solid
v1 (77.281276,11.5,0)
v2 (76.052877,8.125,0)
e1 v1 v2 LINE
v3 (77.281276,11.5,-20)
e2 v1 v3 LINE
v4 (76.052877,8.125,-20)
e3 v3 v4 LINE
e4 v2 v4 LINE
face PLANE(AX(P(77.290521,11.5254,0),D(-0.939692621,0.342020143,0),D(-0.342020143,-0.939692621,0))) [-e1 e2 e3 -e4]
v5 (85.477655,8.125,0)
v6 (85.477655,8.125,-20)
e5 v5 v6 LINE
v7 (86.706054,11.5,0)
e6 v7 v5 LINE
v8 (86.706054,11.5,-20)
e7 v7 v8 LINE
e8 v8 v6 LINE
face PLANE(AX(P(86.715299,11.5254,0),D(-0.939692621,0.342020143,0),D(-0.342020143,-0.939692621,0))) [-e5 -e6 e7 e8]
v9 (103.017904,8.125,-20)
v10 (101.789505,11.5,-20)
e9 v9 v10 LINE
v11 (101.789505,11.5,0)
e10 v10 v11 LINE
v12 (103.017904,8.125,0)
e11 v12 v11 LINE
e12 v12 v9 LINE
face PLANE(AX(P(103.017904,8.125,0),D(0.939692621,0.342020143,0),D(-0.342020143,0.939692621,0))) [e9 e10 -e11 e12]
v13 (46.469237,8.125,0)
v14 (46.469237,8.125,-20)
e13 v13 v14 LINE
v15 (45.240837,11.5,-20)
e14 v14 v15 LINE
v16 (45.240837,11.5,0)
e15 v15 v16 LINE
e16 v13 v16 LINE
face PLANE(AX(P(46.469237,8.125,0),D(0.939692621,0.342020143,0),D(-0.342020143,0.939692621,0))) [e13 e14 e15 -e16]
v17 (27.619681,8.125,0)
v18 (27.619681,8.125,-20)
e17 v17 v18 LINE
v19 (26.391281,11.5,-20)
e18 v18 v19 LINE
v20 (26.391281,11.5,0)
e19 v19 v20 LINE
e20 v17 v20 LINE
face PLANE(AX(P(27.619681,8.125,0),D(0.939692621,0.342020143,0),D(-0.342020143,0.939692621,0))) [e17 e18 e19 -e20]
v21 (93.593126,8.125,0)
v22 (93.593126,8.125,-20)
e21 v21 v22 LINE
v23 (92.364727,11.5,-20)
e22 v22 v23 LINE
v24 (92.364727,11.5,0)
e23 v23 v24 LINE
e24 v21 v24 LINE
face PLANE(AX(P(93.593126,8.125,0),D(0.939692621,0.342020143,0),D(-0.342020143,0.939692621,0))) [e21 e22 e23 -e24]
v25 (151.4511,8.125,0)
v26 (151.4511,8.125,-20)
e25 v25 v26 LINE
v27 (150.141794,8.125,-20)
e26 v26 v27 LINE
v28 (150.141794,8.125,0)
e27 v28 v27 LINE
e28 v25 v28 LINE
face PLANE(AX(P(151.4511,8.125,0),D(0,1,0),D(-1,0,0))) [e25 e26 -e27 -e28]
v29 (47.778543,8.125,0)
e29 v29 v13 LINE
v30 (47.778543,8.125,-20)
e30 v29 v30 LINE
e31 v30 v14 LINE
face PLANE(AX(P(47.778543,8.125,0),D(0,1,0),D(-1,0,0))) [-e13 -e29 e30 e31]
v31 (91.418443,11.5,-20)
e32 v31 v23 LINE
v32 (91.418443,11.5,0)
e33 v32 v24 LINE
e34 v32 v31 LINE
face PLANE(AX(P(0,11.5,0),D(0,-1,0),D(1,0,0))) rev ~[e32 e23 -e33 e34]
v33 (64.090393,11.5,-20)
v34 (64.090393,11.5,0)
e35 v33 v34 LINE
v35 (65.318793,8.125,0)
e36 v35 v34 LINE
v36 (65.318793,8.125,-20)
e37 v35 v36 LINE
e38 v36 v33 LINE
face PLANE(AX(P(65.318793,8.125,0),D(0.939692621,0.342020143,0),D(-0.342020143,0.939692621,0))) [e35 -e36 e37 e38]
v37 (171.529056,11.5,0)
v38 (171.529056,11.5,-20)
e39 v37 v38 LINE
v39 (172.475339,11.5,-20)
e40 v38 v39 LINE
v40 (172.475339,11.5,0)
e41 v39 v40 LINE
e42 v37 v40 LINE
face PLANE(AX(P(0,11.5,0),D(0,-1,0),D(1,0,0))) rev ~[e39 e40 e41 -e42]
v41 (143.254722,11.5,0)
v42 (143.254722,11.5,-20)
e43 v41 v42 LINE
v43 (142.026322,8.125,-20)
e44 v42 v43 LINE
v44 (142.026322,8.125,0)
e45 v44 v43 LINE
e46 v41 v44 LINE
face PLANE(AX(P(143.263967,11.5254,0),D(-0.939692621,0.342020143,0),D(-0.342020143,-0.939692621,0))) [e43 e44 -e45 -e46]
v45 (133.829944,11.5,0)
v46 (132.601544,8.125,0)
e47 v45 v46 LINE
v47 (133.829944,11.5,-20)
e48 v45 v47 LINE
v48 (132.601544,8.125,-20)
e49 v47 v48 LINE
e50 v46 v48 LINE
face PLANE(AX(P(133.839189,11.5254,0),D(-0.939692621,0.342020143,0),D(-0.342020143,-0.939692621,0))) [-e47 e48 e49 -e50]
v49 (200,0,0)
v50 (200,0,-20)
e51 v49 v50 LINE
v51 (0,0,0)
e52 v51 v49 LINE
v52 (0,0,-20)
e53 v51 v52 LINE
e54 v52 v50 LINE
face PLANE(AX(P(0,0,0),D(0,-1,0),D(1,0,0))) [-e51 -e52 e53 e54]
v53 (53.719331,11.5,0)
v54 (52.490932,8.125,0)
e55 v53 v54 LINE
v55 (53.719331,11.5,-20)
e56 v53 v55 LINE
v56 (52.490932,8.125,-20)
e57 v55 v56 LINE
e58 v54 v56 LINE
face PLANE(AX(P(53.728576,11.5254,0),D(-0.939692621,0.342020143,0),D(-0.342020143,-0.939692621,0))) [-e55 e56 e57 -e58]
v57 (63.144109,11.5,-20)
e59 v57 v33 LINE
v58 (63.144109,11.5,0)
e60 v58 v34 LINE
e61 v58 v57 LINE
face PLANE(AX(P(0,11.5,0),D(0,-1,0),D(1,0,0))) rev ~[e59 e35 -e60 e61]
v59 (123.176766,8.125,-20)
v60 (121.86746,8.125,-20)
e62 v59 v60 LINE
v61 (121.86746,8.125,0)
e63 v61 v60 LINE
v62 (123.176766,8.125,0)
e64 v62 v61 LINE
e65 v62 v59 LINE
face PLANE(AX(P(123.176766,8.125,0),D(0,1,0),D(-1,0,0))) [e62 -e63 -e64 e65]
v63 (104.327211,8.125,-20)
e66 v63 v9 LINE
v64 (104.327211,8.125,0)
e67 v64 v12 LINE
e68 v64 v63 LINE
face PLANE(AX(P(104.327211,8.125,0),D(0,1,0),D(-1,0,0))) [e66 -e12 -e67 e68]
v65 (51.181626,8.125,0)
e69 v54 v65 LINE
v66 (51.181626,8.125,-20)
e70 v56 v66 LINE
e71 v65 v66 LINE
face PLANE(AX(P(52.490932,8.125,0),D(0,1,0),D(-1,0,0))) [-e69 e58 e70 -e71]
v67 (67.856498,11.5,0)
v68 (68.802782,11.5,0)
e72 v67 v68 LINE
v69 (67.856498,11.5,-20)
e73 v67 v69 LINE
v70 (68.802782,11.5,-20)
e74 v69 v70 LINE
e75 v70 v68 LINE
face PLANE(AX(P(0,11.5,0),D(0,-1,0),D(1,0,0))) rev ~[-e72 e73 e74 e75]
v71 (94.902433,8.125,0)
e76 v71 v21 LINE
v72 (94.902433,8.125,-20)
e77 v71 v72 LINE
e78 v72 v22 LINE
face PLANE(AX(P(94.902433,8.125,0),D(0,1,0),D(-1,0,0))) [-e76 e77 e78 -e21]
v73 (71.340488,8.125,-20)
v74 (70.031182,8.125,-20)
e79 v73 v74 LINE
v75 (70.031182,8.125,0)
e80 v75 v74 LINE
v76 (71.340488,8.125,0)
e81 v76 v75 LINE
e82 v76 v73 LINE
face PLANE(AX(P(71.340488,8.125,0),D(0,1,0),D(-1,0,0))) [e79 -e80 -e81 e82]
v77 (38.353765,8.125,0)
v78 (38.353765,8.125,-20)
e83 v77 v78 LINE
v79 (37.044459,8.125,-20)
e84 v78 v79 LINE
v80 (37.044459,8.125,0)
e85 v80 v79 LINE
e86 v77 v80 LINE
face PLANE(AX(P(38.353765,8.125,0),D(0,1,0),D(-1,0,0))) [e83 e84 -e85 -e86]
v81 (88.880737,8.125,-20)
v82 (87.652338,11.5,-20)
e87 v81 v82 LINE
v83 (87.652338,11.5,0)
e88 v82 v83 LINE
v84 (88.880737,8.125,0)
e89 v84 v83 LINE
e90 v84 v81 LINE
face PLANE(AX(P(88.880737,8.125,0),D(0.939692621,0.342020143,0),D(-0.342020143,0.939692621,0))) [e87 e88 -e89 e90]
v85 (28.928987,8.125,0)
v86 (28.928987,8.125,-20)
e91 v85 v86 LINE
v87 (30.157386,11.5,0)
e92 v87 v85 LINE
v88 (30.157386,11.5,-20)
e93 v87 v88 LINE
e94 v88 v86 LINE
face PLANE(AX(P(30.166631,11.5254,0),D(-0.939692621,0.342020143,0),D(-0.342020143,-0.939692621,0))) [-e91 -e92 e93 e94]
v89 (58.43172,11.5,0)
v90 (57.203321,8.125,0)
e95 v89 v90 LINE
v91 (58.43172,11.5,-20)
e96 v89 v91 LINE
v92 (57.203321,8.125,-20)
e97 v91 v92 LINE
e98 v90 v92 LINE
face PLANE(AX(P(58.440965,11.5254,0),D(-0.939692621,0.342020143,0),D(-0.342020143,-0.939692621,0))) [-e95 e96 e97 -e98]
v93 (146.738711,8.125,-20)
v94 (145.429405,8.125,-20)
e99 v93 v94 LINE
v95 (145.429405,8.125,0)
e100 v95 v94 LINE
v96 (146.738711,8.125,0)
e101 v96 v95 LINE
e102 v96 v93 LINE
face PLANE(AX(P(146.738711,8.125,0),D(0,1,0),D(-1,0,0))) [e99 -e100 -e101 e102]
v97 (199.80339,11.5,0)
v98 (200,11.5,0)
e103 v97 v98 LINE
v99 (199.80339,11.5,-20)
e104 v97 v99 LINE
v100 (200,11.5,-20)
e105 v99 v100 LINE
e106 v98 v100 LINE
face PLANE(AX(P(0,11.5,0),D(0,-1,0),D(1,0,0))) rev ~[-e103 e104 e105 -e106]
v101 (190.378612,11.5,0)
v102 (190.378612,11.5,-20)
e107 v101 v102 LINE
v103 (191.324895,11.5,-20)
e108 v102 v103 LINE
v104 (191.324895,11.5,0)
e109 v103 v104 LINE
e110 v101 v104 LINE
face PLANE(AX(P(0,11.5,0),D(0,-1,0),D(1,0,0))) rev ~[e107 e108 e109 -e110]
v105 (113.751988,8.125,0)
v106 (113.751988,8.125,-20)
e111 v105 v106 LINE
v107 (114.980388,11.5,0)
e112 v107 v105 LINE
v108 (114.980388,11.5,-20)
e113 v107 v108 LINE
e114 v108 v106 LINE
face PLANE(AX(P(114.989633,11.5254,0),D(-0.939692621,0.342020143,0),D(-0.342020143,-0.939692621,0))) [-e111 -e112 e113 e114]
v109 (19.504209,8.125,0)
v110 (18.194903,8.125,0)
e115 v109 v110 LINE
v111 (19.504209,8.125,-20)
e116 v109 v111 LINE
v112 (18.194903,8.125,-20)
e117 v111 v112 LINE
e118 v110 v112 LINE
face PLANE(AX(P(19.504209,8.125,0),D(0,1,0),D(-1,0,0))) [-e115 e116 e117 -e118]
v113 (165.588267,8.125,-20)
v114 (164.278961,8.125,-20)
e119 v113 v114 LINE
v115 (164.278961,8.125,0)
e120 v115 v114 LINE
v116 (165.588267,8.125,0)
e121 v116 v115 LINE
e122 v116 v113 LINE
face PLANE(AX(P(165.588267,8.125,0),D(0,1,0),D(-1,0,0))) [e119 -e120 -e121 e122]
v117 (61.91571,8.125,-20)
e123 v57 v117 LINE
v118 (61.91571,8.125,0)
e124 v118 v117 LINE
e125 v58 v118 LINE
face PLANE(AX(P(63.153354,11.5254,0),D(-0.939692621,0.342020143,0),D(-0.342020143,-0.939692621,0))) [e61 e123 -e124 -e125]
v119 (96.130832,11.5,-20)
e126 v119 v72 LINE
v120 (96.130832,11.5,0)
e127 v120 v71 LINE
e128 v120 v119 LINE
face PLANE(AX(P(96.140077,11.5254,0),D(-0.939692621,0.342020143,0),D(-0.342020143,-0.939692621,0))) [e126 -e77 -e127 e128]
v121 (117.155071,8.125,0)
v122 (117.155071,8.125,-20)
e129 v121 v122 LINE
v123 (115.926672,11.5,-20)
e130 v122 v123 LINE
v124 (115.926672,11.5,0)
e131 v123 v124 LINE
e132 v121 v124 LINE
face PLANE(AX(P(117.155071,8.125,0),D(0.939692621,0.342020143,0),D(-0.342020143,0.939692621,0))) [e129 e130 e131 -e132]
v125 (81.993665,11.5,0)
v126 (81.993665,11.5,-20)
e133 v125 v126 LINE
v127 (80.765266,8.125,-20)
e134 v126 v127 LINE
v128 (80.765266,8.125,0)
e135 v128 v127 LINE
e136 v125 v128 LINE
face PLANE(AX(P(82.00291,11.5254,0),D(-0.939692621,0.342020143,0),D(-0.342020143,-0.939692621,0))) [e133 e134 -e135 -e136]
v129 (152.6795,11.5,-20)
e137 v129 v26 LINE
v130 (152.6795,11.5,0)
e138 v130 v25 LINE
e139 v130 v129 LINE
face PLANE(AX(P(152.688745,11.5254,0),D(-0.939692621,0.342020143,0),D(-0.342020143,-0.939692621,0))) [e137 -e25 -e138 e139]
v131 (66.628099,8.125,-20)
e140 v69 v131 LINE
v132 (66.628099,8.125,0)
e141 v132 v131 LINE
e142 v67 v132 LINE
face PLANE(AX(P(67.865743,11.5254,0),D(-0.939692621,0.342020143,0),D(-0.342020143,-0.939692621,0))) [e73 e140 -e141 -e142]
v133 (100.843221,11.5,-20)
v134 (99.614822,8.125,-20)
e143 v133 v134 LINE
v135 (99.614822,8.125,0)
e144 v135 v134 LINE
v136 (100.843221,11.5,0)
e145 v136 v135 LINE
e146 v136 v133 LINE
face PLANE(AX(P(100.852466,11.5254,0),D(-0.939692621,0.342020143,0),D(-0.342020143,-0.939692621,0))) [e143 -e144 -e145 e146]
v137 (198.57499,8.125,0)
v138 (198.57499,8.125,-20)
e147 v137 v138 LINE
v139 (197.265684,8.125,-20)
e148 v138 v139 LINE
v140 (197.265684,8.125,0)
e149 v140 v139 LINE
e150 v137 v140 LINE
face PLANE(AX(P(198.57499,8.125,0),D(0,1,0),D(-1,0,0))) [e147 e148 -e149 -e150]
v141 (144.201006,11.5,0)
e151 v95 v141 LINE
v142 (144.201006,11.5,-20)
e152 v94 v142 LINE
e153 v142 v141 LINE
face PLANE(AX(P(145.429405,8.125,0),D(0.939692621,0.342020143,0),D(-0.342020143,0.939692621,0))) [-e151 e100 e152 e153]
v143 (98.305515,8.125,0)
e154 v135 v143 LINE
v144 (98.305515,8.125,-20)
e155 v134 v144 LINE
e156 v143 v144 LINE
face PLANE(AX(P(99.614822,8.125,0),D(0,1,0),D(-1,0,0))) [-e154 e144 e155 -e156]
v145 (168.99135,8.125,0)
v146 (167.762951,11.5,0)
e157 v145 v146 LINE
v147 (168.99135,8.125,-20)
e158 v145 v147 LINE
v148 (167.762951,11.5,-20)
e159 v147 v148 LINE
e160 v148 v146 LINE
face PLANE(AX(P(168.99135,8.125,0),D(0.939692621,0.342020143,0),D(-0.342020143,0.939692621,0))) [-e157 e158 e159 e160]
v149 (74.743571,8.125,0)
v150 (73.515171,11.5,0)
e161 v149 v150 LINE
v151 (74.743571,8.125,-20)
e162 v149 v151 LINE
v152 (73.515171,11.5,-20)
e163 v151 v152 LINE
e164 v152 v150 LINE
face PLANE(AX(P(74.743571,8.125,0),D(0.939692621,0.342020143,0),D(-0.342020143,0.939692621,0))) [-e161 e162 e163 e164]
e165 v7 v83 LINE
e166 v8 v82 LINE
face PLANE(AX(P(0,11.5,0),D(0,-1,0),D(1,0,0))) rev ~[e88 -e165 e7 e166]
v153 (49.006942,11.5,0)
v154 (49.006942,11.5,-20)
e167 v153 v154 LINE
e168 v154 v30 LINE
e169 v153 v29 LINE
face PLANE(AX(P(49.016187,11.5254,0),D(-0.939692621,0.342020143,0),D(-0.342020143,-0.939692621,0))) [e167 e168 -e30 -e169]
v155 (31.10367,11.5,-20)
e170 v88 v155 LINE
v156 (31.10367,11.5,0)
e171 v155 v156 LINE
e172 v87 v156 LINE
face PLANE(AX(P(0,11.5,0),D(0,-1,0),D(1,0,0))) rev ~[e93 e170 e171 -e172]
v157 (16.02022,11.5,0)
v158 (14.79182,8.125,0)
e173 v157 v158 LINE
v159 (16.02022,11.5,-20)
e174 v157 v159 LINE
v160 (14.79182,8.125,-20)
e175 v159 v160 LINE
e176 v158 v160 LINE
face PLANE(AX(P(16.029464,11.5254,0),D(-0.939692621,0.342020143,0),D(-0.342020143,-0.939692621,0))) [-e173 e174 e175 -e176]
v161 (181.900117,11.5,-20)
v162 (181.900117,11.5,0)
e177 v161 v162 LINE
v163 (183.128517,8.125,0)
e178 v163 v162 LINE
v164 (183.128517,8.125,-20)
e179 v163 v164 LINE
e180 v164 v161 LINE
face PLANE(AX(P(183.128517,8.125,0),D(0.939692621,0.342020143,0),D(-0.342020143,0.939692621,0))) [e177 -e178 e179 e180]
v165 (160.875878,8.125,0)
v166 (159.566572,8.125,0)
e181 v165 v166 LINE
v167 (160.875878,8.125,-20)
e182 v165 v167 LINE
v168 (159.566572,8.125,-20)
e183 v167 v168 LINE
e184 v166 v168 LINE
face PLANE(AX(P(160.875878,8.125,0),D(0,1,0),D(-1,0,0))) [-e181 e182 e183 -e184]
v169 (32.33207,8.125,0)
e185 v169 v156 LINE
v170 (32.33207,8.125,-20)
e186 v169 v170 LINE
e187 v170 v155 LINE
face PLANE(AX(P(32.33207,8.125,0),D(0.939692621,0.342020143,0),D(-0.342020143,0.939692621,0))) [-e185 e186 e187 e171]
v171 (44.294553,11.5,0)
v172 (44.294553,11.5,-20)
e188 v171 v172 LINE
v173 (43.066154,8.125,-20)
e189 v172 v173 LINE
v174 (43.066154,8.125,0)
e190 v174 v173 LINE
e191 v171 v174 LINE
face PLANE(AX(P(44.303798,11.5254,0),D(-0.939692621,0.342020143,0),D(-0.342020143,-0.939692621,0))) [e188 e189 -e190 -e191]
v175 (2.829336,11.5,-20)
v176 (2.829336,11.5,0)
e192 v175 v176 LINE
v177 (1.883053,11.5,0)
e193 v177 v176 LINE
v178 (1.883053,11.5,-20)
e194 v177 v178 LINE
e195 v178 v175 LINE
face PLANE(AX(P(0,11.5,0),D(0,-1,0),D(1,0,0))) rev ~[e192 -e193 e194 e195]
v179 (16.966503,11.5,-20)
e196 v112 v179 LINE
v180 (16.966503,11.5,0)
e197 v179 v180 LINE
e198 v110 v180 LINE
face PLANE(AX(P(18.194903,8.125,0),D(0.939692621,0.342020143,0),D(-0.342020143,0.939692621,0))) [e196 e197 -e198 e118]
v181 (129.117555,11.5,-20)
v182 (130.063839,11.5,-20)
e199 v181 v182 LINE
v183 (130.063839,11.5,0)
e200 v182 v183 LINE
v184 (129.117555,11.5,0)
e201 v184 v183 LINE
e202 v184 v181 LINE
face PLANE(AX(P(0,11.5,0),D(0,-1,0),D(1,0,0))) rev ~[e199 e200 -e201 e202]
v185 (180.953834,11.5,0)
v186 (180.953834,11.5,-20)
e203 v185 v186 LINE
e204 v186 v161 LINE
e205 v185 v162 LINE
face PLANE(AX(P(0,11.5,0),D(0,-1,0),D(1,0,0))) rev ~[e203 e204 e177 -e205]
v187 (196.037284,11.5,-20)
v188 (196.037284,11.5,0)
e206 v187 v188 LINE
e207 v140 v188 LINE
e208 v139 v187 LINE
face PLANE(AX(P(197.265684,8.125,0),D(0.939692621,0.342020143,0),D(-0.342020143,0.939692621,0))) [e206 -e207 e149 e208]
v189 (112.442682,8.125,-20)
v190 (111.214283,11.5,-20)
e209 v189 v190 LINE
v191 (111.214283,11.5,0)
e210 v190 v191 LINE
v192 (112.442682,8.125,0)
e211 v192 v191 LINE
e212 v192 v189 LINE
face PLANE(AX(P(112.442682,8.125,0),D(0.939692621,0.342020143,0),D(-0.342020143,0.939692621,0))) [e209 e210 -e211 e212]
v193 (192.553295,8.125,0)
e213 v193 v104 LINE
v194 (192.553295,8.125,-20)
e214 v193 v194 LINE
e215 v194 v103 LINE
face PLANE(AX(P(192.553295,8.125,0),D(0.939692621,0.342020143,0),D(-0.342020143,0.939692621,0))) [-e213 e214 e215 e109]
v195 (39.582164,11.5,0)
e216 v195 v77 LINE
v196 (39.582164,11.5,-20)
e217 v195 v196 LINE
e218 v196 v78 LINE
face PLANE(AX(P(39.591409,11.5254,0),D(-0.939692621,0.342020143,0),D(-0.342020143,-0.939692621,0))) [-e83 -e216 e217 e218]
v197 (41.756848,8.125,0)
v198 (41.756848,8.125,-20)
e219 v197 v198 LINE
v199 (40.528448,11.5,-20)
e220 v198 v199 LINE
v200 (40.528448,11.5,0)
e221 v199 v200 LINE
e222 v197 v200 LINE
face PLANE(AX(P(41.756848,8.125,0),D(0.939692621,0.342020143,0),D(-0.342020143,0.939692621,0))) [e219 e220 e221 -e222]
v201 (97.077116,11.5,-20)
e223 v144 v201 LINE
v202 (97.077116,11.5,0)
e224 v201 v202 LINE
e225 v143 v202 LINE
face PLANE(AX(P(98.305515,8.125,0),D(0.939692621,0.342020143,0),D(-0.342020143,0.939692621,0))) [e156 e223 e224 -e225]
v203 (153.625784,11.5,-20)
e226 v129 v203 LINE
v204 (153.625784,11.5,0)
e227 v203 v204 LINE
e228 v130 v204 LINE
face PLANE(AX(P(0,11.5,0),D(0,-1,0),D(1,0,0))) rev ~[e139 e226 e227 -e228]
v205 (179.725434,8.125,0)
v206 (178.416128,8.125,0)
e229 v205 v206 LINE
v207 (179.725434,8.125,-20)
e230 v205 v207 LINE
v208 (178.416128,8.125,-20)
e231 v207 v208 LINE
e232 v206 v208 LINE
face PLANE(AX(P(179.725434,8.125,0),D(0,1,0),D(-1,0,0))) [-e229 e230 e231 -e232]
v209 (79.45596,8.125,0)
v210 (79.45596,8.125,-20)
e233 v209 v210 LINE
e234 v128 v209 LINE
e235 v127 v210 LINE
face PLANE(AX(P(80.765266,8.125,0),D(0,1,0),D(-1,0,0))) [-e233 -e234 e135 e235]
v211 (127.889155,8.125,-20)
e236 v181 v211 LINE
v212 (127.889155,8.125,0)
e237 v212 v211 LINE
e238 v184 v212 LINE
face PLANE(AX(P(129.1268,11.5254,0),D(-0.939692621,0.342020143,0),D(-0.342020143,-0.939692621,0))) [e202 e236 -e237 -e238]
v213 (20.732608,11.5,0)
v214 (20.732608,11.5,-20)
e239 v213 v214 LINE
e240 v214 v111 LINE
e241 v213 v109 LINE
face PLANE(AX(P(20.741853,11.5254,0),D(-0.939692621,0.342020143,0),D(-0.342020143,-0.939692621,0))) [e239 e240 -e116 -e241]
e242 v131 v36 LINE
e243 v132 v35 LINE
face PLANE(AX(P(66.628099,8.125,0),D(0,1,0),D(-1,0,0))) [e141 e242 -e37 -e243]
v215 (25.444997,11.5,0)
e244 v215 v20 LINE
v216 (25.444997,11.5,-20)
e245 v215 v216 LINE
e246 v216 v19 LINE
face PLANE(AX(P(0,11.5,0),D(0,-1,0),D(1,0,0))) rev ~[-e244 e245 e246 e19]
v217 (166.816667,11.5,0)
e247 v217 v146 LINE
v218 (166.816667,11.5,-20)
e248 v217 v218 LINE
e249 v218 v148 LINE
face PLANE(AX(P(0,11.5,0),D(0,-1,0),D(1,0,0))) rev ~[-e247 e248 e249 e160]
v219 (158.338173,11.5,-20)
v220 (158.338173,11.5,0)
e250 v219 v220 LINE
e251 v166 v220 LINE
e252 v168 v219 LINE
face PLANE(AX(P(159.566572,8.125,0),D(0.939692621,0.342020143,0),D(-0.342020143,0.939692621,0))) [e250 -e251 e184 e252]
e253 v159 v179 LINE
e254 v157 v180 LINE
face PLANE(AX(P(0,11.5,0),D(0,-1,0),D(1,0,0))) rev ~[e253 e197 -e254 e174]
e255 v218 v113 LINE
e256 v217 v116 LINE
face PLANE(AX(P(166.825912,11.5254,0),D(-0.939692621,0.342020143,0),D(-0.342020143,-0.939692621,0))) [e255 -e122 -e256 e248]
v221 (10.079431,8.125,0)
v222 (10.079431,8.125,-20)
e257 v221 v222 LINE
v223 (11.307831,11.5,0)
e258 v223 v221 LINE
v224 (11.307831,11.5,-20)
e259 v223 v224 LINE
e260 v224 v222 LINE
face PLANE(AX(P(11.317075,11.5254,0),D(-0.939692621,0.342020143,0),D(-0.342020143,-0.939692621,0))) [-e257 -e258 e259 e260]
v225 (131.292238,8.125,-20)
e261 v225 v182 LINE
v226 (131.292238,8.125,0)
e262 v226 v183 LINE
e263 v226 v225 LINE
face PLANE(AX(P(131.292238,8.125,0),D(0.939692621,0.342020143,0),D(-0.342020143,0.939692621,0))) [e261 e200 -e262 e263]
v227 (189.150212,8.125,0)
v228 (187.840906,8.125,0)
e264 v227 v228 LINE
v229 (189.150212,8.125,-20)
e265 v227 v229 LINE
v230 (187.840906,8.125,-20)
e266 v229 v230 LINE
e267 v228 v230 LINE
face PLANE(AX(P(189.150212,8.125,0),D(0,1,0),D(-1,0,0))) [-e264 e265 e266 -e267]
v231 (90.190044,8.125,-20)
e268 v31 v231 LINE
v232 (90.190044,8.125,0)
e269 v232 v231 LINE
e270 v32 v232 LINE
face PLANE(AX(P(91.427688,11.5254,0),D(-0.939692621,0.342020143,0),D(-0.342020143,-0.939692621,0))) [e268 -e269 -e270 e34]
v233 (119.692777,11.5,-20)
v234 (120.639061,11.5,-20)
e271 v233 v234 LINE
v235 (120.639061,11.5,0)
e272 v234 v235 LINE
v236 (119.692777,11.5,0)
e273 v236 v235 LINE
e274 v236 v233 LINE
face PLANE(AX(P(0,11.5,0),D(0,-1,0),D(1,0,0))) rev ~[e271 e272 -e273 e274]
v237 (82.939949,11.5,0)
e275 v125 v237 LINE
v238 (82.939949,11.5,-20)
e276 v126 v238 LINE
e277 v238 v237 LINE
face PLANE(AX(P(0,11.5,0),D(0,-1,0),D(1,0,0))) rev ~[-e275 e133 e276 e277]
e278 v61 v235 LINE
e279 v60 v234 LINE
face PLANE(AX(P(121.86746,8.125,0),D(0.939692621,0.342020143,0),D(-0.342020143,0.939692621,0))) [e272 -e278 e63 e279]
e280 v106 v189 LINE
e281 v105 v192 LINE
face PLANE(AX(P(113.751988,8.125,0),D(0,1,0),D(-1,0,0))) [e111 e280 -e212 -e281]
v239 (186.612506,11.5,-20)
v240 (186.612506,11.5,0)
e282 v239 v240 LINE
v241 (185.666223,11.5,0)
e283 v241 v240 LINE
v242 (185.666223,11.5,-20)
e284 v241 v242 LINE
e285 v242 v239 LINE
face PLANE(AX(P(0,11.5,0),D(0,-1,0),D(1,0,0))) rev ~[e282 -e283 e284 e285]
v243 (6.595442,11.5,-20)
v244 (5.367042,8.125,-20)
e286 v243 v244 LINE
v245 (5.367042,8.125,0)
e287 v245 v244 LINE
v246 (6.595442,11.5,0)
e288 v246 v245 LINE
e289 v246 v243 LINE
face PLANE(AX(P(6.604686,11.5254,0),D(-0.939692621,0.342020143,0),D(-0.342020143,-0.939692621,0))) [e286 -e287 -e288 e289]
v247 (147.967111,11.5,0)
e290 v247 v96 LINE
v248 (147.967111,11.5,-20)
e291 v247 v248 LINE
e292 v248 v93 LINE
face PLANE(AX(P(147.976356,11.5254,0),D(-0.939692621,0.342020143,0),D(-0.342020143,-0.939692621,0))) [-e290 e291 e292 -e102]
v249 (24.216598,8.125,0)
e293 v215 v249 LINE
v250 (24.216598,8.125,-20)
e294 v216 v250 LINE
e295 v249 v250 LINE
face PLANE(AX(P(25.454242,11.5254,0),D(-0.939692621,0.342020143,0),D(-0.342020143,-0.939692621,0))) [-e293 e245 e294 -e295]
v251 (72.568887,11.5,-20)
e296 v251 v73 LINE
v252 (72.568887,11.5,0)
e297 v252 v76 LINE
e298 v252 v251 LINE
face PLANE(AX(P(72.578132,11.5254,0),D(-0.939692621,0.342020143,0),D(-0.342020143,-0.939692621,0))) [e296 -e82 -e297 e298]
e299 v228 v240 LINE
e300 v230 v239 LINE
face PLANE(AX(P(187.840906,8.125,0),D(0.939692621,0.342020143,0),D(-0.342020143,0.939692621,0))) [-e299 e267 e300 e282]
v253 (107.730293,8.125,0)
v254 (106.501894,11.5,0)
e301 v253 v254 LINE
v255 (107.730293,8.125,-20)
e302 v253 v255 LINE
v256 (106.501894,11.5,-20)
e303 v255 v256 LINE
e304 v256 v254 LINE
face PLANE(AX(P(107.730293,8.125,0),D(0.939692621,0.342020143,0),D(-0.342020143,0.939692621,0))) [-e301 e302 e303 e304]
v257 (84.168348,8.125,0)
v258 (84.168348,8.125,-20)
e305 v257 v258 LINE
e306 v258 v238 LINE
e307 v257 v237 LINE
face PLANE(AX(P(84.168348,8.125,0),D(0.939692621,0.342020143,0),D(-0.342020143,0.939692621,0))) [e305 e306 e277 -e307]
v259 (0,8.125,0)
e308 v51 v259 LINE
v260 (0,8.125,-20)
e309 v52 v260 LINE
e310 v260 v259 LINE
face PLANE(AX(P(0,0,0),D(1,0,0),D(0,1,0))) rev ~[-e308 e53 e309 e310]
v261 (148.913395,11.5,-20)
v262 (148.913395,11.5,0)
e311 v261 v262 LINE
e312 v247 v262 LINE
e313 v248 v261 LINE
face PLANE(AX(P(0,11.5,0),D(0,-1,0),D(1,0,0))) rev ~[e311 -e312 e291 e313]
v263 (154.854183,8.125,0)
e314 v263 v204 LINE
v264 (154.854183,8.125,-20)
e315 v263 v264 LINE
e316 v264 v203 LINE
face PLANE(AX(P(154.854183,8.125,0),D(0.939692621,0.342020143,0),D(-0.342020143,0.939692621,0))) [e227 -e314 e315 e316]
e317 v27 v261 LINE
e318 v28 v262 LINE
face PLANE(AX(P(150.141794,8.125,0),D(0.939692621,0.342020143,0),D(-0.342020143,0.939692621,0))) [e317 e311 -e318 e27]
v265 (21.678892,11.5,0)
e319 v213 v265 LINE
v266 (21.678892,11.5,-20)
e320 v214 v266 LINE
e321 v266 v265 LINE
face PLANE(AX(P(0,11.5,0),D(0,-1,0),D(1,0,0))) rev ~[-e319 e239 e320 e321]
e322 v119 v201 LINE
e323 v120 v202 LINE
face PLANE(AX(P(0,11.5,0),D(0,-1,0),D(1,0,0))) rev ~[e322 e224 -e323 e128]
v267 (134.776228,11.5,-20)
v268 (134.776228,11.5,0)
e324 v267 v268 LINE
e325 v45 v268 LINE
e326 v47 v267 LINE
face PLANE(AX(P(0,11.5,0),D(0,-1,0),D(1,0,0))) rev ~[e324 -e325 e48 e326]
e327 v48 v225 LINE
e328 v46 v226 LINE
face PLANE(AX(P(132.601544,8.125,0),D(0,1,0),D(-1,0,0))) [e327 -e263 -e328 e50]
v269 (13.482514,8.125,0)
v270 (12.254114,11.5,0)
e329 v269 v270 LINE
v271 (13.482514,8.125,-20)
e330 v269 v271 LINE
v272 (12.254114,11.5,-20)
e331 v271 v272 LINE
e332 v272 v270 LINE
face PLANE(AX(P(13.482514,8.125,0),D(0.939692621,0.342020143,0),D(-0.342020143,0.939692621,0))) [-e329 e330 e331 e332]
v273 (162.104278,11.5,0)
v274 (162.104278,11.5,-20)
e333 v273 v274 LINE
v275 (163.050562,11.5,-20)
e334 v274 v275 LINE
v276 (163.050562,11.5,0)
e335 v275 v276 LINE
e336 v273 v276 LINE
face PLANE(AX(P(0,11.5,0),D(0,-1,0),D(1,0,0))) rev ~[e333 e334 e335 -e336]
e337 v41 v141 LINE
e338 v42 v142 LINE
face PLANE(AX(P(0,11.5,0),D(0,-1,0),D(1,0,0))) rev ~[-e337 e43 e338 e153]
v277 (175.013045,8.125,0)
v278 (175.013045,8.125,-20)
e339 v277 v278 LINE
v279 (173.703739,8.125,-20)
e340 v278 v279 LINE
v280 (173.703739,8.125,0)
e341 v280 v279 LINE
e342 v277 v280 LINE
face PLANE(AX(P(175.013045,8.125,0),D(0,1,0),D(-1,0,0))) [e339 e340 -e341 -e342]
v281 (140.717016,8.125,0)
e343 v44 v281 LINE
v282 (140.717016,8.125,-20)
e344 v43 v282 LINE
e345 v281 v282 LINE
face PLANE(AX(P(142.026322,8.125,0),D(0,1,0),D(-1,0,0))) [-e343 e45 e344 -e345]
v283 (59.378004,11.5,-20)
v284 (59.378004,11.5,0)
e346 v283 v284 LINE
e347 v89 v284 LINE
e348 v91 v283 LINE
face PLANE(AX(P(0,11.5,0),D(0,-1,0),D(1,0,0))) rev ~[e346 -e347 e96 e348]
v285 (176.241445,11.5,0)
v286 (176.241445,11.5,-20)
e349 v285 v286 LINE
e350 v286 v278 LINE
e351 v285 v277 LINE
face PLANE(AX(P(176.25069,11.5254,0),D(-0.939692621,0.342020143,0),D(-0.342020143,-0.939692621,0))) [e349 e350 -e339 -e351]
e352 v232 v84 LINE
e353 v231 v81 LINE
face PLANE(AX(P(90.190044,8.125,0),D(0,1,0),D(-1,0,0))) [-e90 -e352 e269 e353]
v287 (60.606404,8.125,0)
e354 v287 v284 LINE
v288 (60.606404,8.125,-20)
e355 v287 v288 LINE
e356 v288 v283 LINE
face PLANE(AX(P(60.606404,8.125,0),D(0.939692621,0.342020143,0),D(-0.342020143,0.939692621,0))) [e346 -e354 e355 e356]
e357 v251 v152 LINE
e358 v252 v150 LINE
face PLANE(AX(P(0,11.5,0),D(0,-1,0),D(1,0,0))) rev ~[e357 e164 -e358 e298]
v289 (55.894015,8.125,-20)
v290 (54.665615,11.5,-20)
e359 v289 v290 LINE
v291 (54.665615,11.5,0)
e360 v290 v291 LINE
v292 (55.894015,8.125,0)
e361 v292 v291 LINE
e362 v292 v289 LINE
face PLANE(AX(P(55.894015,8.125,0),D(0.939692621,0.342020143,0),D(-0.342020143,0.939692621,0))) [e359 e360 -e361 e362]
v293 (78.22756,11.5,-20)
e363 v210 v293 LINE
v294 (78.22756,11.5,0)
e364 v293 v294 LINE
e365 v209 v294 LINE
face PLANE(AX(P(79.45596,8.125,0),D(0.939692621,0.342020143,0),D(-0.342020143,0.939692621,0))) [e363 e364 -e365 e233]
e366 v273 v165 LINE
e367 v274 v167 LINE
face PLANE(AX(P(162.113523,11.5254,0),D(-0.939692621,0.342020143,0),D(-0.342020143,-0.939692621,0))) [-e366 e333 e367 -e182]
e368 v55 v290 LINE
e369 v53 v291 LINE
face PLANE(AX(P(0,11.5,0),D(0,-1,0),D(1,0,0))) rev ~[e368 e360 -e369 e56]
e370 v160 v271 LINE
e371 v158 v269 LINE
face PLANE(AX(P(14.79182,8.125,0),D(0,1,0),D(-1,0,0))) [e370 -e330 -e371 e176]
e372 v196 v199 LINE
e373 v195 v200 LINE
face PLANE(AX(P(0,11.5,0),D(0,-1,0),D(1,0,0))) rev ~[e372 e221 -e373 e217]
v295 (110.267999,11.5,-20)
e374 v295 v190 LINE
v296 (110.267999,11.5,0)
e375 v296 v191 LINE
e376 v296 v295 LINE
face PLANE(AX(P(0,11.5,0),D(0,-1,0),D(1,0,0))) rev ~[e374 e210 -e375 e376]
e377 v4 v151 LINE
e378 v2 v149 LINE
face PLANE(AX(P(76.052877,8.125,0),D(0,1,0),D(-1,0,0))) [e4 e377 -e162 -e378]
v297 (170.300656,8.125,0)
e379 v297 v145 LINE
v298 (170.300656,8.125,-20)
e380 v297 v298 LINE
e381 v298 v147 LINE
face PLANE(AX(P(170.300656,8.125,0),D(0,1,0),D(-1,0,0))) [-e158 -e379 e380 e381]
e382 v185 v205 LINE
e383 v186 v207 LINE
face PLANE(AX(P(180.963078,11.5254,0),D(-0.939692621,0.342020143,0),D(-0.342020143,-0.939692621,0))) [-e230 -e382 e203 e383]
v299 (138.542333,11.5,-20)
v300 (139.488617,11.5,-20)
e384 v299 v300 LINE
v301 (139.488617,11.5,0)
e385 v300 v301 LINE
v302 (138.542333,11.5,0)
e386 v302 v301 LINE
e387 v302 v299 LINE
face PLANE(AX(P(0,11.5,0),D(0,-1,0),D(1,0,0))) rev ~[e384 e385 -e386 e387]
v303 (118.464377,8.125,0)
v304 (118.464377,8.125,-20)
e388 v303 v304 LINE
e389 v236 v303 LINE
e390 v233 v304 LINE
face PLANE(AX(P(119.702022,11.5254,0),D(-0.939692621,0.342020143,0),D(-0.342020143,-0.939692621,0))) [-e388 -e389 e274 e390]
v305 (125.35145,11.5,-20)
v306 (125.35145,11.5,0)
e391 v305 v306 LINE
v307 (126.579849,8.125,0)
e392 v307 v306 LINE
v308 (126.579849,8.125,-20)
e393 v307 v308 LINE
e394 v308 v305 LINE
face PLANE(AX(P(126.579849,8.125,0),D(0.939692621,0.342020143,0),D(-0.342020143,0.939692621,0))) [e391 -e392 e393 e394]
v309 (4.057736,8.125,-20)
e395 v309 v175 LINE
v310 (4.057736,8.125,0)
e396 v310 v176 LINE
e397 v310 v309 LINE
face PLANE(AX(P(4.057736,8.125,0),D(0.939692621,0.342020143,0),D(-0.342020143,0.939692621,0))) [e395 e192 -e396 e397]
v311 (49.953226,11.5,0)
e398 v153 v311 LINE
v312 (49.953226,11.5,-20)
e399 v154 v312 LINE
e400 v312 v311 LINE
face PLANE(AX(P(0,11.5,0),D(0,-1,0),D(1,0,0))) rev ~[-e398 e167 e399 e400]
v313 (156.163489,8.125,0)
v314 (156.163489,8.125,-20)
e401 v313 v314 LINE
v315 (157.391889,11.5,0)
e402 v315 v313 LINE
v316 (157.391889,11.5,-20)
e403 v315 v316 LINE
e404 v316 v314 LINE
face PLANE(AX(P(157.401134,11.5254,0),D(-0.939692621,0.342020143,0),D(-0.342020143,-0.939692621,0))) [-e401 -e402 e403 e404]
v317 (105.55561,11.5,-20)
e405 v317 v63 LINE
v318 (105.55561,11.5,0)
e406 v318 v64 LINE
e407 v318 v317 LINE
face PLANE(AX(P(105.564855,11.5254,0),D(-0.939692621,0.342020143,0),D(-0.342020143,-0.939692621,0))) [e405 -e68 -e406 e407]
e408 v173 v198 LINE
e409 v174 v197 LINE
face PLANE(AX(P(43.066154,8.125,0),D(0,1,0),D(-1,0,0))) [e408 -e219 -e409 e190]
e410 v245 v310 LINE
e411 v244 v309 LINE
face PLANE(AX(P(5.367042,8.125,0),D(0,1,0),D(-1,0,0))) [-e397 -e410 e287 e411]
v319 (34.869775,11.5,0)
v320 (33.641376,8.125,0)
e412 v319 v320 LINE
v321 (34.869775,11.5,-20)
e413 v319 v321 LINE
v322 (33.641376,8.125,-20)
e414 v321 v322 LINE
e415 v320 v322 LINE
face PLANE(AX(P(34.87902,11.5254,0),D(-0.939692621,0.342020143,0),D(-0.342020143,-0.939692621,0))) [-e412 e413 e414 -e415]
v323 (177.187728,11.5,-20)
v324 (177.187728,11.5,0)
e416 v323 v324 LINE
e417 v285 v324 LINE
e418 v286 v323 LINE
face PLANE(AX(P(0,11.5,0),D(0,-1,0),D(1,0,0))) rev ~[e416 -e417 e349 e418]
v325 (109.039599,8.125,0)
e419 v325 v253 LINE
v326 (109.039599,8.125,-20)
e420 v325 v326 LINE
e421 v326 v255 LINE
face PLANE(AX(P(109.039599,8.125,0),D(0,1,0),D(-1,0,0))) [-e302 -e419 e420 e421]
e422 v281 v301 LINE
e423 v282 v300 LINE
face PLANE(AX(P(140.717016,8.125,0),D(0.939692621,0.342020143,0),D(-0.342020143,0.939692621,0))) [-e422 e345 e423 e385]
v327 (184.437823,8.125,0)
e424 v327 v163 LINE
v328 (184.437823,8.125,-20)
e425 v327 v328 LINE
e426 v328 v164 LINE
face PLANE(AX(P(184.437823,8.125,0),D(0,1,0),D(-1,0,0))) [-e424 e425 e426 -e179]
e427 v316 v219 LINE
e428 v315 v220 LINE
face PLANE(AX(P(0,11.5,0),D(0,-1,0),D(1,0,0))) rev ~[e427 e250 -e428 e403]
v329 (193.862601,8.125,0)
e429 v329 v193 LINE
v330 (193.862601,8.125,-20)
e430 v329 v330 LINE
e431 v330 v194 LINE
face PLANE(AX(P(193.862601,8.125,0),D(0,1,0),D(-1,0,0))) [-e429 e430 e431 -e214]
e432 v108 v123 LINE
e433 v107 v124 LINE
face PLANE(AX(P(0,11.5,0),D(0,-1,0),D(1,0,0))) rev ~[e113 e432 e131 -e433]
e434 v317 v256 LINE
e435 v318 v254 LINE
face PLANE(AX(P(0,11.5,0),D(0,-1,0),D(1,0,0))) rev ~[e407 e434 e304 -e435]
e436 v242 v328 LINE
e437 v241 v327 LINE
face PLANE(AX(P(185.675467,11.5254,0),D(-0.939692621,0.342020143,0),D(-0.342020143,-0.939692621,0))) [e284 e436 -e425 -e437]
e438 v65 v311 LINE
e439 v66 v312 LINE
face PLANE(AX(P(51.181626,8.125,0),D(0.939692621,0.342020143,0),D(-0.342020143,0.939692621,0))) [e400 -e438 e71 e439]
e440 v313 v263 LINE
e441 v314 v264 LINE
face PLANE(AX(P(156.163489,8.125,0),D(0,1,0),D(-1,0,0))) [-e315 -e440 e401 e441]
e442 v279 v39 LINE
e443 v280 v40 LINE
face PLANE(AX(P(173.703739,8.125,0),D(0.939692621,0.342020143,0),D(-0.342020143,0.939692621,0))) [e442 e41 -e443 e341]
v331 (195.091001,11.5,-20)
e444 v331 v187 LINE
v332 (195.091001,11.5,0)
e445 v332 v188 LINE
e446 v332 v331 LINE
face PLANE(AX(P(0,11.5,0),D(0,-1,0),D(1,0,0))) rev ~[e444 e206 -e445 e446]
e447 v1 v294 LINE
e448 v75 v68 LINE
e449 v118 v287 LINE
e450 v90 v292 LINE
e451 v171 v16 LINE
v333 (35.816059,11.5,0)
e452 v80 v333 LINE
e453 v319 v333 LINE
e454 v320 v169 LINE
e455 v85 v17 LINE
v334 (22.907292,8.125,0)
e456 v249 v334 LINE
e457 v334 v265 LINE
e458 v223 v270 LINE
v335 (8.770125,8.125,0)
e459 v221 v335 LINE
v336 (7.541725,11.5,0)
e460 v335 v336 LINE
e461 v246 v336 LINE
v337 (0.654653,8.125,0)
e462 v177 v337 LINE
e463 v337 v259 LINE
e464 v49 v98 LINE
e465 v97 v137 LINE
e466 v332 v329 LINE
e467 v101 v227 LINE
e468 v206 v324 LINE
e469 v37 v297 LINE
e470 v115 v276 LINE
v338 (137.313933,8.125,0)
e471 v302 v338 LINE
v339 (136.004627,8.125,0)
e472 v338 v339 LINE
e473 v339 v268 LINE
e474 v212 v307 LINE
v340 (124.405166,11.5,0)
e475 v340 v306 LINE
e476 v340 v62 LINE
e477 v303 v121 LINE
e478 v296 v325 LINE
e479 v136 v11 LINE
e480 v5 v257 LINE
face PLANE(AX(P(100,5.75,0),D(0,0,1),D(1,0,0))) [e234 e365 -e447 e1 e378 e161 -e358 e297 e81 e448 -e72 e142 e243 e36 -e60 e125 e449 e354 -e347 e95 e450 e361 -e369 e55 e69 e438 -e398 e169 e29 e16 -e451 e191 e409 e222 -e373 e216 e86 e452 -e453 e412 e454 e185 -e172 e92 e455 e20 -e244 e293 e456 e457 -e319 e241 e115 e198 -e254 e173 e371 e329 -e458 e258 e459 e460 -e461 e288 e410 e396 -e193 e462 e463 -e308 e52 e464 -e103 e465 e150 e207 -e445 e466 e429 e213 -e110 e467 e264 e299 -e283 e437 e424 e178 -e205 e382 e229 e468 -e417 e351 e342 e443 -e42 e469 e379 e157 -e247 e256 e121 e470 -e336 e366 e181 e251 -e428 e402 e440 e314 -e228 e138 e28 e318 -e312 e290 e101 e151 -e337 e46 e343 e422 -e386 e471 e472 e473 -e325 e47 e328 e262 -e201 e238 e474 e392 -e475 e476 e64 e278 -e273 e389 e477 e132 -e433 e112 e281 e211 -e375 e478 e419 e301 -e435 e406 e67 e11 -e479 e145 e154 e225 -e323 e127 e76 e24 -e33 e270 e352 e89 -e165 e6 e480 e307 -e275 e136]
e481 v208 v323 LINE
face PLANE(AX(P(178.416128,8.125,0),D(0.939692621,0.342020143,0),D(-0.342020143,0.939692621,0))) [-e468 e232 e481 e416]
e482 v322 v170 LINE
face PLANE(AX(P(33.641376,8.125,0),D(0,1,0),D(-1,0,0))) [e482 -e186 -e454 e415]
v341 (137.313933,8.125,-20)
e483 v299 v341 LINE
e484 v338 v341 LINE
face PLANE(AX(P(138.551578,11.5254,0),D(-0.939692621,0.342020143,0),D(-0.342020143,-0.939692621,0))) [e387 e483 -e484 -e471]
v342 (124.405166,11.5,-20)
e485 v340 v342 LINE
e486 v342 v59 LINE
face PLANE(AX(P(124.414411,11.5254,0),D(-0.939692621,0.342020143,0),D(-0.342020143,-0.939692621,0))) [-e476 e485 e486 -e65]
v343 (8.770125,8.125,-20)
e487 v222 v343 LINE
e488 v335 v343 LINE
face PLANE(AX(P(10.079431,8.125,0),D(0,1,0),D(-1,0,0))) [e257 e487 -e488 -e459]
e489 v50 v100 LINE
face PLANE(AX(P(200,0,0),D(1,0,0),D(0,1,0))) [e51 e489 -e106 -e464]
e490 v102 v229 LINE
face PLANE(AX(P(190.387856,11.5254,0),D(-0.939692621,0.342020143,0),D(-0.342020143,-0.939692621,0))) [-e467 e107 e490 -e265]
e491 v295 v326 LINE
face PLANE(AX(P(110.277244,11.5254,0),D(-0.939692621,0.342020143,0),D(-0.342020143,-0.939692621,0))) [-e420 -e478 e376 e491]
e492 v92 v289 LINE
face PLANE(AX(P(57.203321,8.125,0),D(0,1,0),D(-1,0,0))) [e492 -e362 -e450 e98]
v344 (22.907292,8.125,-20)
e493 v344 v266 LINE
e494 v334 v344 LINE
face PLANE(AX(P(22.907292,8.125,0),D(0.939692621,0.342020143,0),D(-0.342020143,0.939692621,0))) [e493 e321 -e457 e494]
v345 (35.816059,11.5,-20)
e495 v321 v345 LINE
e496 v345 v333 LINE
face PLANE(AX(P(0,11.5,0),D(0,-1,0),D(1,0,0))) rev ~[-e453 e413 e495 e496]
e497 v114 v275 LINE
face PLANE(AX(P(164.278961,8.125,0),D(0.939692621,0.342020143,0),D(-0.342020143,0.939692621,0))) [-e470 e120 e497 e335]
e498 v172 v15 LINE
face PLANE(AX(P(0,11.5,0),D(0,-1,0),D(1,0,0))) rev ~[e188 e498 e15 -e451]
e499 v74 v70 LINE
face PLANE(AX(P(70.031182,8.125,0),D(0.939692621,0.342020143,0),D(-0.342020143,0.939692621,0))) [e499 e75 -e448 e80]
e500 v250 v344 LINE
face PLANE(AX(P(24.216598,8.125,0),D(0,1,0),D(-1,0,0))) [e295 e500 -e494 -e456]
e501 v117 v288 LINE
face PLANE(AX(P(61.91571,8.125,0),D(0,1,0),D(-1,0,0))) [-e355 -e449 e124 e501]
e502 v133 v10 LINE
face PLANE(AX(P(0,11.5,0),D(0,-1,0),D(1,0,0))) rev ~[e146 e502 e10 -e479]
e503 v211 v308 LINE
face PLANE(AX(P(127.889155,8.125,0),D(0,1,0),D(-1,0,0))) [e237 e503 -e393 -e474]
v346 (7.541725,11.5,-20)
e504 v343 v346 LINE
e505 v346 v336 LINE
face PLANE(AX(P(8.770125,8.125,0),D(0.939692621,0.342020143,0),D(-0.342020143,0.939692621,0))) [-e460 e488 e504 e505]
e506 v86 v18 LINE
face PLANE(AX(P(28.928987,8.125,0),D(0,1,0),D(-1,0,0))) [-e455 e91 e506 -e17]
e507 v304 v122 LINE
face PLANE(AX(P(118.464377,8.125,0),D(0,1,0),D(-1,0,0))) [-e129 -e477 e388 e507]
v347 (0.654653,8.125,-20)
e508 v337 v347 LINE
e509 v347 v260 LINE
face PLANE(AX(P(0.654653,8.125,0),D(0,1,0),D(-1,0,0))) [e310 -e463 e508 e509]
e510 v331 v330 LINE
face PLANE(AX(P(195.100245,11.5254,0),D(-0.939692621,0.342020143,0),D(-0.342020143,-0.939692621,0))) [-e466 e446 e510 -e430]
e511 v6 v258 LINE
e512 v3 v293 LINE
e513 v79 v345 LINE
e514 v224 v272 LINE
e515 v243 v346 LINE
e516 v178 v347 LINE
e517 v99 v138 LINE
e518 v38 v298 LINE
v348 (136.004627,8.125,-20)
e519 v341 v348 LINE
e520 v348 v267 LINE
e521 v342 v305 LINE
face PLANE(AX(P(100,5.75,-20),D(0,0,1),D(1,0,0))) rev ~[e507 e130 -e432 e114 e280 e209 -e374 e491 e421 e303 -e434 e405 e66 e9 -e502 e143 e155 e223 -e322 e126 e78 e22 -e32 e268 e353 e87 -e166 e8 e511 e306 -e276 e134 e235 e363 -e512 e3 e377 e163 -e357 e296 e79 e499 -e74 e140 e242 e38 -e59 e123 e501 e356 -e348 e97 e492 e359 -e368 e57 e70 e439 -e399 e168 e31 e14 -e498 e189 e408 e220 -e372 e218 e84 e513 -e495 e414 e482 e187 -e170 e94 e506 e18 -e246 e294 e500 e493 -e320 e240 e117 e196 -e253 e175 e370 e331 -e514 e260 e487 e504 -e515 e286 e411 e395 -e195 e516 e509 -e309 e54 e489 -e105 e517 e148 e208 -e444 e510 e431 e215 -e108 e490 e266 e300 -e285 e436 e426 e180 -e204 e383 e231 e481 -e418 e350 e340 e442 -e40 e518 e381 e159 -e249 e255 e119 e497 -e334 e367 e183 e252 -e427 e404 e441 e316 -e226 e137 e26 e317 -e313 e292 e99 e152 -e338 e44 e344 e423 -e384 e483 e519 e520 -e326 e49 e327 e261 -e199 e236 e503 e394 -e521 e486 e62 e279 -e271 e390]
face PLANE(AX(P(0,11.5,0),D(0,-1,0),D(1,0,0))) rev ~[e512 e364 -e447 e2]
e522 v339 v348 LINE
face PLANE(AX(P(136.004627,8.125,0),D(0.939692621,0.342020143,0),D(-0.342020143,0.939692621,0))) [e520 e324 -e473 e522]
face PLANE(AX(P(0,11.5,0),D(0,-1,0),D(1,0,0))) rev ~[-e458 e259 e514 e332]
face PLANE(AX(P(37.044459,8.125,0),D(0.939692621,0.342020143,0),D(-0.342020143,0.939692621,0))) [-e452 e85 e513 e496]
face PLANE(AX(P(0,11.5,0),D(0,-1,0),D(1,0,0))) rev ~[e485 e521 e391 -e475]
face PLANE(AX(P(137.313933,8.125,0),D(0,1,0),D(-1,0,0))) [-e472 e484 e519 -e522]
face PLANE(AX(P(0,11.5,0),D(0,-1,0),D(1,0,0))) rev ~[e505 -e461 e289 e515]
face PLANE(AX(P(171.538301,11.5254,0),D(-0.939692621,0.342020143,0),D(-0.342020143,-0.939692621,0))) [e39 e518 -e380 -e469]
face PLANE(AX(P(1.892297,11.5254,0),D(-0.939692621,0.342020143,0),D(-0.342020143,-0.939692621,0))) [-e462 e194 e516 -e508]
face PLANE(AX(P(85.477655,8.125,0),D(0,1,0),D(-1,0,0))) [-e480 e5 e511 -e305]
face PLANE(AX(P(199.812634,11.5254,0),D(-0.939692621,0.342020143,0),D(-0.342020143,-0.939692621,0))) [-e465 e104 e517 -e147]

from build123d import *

# Parameters (mm, degrees)
BLANKSKE_W        = 200
BLANKSKE_H        = 11.5
BLANK_DEPTH       = 20
TOOTHCUTSIM_DEPTH = 202.3262278
TEETHCUTS_COUNT   = 43
TEETHCUTS_PITCH   = 4.712388975


with BuildPart() as part:
    # BlankSke → Blank (new body)
    with BuildSketch(Plane.XY):
        with Locations((100, 5.75)):
            Rectangle(BLANKSKE_W, BLANKSKE_H)
    extrude(amount=-BLANK_DEPTH)

    # TooCutSkeSim → ToothCutSim (cut, through all)
    with BuildSketch(Plane.XY):
        Polygon((0.654653055, 8.125), (-0.654653055, 8.125), (-1.892297439, 11.5254), (1.892297439, 11.5254), align=None)
    toothcutsim = extrude(amount=-TOOTHCUTSIM_DEPTH, mode=Mode.SUBTRACT)

    # TeethCuts: ToothCutSim ×43
    with Locations(*[(i * TEETHCUTS_PITCH, 0, 0) for i in range(1, TEETHCUTS_COUNT)]):
        add(toothcutsim, mode=Mode.SUBTRACT)


solid = part.part
